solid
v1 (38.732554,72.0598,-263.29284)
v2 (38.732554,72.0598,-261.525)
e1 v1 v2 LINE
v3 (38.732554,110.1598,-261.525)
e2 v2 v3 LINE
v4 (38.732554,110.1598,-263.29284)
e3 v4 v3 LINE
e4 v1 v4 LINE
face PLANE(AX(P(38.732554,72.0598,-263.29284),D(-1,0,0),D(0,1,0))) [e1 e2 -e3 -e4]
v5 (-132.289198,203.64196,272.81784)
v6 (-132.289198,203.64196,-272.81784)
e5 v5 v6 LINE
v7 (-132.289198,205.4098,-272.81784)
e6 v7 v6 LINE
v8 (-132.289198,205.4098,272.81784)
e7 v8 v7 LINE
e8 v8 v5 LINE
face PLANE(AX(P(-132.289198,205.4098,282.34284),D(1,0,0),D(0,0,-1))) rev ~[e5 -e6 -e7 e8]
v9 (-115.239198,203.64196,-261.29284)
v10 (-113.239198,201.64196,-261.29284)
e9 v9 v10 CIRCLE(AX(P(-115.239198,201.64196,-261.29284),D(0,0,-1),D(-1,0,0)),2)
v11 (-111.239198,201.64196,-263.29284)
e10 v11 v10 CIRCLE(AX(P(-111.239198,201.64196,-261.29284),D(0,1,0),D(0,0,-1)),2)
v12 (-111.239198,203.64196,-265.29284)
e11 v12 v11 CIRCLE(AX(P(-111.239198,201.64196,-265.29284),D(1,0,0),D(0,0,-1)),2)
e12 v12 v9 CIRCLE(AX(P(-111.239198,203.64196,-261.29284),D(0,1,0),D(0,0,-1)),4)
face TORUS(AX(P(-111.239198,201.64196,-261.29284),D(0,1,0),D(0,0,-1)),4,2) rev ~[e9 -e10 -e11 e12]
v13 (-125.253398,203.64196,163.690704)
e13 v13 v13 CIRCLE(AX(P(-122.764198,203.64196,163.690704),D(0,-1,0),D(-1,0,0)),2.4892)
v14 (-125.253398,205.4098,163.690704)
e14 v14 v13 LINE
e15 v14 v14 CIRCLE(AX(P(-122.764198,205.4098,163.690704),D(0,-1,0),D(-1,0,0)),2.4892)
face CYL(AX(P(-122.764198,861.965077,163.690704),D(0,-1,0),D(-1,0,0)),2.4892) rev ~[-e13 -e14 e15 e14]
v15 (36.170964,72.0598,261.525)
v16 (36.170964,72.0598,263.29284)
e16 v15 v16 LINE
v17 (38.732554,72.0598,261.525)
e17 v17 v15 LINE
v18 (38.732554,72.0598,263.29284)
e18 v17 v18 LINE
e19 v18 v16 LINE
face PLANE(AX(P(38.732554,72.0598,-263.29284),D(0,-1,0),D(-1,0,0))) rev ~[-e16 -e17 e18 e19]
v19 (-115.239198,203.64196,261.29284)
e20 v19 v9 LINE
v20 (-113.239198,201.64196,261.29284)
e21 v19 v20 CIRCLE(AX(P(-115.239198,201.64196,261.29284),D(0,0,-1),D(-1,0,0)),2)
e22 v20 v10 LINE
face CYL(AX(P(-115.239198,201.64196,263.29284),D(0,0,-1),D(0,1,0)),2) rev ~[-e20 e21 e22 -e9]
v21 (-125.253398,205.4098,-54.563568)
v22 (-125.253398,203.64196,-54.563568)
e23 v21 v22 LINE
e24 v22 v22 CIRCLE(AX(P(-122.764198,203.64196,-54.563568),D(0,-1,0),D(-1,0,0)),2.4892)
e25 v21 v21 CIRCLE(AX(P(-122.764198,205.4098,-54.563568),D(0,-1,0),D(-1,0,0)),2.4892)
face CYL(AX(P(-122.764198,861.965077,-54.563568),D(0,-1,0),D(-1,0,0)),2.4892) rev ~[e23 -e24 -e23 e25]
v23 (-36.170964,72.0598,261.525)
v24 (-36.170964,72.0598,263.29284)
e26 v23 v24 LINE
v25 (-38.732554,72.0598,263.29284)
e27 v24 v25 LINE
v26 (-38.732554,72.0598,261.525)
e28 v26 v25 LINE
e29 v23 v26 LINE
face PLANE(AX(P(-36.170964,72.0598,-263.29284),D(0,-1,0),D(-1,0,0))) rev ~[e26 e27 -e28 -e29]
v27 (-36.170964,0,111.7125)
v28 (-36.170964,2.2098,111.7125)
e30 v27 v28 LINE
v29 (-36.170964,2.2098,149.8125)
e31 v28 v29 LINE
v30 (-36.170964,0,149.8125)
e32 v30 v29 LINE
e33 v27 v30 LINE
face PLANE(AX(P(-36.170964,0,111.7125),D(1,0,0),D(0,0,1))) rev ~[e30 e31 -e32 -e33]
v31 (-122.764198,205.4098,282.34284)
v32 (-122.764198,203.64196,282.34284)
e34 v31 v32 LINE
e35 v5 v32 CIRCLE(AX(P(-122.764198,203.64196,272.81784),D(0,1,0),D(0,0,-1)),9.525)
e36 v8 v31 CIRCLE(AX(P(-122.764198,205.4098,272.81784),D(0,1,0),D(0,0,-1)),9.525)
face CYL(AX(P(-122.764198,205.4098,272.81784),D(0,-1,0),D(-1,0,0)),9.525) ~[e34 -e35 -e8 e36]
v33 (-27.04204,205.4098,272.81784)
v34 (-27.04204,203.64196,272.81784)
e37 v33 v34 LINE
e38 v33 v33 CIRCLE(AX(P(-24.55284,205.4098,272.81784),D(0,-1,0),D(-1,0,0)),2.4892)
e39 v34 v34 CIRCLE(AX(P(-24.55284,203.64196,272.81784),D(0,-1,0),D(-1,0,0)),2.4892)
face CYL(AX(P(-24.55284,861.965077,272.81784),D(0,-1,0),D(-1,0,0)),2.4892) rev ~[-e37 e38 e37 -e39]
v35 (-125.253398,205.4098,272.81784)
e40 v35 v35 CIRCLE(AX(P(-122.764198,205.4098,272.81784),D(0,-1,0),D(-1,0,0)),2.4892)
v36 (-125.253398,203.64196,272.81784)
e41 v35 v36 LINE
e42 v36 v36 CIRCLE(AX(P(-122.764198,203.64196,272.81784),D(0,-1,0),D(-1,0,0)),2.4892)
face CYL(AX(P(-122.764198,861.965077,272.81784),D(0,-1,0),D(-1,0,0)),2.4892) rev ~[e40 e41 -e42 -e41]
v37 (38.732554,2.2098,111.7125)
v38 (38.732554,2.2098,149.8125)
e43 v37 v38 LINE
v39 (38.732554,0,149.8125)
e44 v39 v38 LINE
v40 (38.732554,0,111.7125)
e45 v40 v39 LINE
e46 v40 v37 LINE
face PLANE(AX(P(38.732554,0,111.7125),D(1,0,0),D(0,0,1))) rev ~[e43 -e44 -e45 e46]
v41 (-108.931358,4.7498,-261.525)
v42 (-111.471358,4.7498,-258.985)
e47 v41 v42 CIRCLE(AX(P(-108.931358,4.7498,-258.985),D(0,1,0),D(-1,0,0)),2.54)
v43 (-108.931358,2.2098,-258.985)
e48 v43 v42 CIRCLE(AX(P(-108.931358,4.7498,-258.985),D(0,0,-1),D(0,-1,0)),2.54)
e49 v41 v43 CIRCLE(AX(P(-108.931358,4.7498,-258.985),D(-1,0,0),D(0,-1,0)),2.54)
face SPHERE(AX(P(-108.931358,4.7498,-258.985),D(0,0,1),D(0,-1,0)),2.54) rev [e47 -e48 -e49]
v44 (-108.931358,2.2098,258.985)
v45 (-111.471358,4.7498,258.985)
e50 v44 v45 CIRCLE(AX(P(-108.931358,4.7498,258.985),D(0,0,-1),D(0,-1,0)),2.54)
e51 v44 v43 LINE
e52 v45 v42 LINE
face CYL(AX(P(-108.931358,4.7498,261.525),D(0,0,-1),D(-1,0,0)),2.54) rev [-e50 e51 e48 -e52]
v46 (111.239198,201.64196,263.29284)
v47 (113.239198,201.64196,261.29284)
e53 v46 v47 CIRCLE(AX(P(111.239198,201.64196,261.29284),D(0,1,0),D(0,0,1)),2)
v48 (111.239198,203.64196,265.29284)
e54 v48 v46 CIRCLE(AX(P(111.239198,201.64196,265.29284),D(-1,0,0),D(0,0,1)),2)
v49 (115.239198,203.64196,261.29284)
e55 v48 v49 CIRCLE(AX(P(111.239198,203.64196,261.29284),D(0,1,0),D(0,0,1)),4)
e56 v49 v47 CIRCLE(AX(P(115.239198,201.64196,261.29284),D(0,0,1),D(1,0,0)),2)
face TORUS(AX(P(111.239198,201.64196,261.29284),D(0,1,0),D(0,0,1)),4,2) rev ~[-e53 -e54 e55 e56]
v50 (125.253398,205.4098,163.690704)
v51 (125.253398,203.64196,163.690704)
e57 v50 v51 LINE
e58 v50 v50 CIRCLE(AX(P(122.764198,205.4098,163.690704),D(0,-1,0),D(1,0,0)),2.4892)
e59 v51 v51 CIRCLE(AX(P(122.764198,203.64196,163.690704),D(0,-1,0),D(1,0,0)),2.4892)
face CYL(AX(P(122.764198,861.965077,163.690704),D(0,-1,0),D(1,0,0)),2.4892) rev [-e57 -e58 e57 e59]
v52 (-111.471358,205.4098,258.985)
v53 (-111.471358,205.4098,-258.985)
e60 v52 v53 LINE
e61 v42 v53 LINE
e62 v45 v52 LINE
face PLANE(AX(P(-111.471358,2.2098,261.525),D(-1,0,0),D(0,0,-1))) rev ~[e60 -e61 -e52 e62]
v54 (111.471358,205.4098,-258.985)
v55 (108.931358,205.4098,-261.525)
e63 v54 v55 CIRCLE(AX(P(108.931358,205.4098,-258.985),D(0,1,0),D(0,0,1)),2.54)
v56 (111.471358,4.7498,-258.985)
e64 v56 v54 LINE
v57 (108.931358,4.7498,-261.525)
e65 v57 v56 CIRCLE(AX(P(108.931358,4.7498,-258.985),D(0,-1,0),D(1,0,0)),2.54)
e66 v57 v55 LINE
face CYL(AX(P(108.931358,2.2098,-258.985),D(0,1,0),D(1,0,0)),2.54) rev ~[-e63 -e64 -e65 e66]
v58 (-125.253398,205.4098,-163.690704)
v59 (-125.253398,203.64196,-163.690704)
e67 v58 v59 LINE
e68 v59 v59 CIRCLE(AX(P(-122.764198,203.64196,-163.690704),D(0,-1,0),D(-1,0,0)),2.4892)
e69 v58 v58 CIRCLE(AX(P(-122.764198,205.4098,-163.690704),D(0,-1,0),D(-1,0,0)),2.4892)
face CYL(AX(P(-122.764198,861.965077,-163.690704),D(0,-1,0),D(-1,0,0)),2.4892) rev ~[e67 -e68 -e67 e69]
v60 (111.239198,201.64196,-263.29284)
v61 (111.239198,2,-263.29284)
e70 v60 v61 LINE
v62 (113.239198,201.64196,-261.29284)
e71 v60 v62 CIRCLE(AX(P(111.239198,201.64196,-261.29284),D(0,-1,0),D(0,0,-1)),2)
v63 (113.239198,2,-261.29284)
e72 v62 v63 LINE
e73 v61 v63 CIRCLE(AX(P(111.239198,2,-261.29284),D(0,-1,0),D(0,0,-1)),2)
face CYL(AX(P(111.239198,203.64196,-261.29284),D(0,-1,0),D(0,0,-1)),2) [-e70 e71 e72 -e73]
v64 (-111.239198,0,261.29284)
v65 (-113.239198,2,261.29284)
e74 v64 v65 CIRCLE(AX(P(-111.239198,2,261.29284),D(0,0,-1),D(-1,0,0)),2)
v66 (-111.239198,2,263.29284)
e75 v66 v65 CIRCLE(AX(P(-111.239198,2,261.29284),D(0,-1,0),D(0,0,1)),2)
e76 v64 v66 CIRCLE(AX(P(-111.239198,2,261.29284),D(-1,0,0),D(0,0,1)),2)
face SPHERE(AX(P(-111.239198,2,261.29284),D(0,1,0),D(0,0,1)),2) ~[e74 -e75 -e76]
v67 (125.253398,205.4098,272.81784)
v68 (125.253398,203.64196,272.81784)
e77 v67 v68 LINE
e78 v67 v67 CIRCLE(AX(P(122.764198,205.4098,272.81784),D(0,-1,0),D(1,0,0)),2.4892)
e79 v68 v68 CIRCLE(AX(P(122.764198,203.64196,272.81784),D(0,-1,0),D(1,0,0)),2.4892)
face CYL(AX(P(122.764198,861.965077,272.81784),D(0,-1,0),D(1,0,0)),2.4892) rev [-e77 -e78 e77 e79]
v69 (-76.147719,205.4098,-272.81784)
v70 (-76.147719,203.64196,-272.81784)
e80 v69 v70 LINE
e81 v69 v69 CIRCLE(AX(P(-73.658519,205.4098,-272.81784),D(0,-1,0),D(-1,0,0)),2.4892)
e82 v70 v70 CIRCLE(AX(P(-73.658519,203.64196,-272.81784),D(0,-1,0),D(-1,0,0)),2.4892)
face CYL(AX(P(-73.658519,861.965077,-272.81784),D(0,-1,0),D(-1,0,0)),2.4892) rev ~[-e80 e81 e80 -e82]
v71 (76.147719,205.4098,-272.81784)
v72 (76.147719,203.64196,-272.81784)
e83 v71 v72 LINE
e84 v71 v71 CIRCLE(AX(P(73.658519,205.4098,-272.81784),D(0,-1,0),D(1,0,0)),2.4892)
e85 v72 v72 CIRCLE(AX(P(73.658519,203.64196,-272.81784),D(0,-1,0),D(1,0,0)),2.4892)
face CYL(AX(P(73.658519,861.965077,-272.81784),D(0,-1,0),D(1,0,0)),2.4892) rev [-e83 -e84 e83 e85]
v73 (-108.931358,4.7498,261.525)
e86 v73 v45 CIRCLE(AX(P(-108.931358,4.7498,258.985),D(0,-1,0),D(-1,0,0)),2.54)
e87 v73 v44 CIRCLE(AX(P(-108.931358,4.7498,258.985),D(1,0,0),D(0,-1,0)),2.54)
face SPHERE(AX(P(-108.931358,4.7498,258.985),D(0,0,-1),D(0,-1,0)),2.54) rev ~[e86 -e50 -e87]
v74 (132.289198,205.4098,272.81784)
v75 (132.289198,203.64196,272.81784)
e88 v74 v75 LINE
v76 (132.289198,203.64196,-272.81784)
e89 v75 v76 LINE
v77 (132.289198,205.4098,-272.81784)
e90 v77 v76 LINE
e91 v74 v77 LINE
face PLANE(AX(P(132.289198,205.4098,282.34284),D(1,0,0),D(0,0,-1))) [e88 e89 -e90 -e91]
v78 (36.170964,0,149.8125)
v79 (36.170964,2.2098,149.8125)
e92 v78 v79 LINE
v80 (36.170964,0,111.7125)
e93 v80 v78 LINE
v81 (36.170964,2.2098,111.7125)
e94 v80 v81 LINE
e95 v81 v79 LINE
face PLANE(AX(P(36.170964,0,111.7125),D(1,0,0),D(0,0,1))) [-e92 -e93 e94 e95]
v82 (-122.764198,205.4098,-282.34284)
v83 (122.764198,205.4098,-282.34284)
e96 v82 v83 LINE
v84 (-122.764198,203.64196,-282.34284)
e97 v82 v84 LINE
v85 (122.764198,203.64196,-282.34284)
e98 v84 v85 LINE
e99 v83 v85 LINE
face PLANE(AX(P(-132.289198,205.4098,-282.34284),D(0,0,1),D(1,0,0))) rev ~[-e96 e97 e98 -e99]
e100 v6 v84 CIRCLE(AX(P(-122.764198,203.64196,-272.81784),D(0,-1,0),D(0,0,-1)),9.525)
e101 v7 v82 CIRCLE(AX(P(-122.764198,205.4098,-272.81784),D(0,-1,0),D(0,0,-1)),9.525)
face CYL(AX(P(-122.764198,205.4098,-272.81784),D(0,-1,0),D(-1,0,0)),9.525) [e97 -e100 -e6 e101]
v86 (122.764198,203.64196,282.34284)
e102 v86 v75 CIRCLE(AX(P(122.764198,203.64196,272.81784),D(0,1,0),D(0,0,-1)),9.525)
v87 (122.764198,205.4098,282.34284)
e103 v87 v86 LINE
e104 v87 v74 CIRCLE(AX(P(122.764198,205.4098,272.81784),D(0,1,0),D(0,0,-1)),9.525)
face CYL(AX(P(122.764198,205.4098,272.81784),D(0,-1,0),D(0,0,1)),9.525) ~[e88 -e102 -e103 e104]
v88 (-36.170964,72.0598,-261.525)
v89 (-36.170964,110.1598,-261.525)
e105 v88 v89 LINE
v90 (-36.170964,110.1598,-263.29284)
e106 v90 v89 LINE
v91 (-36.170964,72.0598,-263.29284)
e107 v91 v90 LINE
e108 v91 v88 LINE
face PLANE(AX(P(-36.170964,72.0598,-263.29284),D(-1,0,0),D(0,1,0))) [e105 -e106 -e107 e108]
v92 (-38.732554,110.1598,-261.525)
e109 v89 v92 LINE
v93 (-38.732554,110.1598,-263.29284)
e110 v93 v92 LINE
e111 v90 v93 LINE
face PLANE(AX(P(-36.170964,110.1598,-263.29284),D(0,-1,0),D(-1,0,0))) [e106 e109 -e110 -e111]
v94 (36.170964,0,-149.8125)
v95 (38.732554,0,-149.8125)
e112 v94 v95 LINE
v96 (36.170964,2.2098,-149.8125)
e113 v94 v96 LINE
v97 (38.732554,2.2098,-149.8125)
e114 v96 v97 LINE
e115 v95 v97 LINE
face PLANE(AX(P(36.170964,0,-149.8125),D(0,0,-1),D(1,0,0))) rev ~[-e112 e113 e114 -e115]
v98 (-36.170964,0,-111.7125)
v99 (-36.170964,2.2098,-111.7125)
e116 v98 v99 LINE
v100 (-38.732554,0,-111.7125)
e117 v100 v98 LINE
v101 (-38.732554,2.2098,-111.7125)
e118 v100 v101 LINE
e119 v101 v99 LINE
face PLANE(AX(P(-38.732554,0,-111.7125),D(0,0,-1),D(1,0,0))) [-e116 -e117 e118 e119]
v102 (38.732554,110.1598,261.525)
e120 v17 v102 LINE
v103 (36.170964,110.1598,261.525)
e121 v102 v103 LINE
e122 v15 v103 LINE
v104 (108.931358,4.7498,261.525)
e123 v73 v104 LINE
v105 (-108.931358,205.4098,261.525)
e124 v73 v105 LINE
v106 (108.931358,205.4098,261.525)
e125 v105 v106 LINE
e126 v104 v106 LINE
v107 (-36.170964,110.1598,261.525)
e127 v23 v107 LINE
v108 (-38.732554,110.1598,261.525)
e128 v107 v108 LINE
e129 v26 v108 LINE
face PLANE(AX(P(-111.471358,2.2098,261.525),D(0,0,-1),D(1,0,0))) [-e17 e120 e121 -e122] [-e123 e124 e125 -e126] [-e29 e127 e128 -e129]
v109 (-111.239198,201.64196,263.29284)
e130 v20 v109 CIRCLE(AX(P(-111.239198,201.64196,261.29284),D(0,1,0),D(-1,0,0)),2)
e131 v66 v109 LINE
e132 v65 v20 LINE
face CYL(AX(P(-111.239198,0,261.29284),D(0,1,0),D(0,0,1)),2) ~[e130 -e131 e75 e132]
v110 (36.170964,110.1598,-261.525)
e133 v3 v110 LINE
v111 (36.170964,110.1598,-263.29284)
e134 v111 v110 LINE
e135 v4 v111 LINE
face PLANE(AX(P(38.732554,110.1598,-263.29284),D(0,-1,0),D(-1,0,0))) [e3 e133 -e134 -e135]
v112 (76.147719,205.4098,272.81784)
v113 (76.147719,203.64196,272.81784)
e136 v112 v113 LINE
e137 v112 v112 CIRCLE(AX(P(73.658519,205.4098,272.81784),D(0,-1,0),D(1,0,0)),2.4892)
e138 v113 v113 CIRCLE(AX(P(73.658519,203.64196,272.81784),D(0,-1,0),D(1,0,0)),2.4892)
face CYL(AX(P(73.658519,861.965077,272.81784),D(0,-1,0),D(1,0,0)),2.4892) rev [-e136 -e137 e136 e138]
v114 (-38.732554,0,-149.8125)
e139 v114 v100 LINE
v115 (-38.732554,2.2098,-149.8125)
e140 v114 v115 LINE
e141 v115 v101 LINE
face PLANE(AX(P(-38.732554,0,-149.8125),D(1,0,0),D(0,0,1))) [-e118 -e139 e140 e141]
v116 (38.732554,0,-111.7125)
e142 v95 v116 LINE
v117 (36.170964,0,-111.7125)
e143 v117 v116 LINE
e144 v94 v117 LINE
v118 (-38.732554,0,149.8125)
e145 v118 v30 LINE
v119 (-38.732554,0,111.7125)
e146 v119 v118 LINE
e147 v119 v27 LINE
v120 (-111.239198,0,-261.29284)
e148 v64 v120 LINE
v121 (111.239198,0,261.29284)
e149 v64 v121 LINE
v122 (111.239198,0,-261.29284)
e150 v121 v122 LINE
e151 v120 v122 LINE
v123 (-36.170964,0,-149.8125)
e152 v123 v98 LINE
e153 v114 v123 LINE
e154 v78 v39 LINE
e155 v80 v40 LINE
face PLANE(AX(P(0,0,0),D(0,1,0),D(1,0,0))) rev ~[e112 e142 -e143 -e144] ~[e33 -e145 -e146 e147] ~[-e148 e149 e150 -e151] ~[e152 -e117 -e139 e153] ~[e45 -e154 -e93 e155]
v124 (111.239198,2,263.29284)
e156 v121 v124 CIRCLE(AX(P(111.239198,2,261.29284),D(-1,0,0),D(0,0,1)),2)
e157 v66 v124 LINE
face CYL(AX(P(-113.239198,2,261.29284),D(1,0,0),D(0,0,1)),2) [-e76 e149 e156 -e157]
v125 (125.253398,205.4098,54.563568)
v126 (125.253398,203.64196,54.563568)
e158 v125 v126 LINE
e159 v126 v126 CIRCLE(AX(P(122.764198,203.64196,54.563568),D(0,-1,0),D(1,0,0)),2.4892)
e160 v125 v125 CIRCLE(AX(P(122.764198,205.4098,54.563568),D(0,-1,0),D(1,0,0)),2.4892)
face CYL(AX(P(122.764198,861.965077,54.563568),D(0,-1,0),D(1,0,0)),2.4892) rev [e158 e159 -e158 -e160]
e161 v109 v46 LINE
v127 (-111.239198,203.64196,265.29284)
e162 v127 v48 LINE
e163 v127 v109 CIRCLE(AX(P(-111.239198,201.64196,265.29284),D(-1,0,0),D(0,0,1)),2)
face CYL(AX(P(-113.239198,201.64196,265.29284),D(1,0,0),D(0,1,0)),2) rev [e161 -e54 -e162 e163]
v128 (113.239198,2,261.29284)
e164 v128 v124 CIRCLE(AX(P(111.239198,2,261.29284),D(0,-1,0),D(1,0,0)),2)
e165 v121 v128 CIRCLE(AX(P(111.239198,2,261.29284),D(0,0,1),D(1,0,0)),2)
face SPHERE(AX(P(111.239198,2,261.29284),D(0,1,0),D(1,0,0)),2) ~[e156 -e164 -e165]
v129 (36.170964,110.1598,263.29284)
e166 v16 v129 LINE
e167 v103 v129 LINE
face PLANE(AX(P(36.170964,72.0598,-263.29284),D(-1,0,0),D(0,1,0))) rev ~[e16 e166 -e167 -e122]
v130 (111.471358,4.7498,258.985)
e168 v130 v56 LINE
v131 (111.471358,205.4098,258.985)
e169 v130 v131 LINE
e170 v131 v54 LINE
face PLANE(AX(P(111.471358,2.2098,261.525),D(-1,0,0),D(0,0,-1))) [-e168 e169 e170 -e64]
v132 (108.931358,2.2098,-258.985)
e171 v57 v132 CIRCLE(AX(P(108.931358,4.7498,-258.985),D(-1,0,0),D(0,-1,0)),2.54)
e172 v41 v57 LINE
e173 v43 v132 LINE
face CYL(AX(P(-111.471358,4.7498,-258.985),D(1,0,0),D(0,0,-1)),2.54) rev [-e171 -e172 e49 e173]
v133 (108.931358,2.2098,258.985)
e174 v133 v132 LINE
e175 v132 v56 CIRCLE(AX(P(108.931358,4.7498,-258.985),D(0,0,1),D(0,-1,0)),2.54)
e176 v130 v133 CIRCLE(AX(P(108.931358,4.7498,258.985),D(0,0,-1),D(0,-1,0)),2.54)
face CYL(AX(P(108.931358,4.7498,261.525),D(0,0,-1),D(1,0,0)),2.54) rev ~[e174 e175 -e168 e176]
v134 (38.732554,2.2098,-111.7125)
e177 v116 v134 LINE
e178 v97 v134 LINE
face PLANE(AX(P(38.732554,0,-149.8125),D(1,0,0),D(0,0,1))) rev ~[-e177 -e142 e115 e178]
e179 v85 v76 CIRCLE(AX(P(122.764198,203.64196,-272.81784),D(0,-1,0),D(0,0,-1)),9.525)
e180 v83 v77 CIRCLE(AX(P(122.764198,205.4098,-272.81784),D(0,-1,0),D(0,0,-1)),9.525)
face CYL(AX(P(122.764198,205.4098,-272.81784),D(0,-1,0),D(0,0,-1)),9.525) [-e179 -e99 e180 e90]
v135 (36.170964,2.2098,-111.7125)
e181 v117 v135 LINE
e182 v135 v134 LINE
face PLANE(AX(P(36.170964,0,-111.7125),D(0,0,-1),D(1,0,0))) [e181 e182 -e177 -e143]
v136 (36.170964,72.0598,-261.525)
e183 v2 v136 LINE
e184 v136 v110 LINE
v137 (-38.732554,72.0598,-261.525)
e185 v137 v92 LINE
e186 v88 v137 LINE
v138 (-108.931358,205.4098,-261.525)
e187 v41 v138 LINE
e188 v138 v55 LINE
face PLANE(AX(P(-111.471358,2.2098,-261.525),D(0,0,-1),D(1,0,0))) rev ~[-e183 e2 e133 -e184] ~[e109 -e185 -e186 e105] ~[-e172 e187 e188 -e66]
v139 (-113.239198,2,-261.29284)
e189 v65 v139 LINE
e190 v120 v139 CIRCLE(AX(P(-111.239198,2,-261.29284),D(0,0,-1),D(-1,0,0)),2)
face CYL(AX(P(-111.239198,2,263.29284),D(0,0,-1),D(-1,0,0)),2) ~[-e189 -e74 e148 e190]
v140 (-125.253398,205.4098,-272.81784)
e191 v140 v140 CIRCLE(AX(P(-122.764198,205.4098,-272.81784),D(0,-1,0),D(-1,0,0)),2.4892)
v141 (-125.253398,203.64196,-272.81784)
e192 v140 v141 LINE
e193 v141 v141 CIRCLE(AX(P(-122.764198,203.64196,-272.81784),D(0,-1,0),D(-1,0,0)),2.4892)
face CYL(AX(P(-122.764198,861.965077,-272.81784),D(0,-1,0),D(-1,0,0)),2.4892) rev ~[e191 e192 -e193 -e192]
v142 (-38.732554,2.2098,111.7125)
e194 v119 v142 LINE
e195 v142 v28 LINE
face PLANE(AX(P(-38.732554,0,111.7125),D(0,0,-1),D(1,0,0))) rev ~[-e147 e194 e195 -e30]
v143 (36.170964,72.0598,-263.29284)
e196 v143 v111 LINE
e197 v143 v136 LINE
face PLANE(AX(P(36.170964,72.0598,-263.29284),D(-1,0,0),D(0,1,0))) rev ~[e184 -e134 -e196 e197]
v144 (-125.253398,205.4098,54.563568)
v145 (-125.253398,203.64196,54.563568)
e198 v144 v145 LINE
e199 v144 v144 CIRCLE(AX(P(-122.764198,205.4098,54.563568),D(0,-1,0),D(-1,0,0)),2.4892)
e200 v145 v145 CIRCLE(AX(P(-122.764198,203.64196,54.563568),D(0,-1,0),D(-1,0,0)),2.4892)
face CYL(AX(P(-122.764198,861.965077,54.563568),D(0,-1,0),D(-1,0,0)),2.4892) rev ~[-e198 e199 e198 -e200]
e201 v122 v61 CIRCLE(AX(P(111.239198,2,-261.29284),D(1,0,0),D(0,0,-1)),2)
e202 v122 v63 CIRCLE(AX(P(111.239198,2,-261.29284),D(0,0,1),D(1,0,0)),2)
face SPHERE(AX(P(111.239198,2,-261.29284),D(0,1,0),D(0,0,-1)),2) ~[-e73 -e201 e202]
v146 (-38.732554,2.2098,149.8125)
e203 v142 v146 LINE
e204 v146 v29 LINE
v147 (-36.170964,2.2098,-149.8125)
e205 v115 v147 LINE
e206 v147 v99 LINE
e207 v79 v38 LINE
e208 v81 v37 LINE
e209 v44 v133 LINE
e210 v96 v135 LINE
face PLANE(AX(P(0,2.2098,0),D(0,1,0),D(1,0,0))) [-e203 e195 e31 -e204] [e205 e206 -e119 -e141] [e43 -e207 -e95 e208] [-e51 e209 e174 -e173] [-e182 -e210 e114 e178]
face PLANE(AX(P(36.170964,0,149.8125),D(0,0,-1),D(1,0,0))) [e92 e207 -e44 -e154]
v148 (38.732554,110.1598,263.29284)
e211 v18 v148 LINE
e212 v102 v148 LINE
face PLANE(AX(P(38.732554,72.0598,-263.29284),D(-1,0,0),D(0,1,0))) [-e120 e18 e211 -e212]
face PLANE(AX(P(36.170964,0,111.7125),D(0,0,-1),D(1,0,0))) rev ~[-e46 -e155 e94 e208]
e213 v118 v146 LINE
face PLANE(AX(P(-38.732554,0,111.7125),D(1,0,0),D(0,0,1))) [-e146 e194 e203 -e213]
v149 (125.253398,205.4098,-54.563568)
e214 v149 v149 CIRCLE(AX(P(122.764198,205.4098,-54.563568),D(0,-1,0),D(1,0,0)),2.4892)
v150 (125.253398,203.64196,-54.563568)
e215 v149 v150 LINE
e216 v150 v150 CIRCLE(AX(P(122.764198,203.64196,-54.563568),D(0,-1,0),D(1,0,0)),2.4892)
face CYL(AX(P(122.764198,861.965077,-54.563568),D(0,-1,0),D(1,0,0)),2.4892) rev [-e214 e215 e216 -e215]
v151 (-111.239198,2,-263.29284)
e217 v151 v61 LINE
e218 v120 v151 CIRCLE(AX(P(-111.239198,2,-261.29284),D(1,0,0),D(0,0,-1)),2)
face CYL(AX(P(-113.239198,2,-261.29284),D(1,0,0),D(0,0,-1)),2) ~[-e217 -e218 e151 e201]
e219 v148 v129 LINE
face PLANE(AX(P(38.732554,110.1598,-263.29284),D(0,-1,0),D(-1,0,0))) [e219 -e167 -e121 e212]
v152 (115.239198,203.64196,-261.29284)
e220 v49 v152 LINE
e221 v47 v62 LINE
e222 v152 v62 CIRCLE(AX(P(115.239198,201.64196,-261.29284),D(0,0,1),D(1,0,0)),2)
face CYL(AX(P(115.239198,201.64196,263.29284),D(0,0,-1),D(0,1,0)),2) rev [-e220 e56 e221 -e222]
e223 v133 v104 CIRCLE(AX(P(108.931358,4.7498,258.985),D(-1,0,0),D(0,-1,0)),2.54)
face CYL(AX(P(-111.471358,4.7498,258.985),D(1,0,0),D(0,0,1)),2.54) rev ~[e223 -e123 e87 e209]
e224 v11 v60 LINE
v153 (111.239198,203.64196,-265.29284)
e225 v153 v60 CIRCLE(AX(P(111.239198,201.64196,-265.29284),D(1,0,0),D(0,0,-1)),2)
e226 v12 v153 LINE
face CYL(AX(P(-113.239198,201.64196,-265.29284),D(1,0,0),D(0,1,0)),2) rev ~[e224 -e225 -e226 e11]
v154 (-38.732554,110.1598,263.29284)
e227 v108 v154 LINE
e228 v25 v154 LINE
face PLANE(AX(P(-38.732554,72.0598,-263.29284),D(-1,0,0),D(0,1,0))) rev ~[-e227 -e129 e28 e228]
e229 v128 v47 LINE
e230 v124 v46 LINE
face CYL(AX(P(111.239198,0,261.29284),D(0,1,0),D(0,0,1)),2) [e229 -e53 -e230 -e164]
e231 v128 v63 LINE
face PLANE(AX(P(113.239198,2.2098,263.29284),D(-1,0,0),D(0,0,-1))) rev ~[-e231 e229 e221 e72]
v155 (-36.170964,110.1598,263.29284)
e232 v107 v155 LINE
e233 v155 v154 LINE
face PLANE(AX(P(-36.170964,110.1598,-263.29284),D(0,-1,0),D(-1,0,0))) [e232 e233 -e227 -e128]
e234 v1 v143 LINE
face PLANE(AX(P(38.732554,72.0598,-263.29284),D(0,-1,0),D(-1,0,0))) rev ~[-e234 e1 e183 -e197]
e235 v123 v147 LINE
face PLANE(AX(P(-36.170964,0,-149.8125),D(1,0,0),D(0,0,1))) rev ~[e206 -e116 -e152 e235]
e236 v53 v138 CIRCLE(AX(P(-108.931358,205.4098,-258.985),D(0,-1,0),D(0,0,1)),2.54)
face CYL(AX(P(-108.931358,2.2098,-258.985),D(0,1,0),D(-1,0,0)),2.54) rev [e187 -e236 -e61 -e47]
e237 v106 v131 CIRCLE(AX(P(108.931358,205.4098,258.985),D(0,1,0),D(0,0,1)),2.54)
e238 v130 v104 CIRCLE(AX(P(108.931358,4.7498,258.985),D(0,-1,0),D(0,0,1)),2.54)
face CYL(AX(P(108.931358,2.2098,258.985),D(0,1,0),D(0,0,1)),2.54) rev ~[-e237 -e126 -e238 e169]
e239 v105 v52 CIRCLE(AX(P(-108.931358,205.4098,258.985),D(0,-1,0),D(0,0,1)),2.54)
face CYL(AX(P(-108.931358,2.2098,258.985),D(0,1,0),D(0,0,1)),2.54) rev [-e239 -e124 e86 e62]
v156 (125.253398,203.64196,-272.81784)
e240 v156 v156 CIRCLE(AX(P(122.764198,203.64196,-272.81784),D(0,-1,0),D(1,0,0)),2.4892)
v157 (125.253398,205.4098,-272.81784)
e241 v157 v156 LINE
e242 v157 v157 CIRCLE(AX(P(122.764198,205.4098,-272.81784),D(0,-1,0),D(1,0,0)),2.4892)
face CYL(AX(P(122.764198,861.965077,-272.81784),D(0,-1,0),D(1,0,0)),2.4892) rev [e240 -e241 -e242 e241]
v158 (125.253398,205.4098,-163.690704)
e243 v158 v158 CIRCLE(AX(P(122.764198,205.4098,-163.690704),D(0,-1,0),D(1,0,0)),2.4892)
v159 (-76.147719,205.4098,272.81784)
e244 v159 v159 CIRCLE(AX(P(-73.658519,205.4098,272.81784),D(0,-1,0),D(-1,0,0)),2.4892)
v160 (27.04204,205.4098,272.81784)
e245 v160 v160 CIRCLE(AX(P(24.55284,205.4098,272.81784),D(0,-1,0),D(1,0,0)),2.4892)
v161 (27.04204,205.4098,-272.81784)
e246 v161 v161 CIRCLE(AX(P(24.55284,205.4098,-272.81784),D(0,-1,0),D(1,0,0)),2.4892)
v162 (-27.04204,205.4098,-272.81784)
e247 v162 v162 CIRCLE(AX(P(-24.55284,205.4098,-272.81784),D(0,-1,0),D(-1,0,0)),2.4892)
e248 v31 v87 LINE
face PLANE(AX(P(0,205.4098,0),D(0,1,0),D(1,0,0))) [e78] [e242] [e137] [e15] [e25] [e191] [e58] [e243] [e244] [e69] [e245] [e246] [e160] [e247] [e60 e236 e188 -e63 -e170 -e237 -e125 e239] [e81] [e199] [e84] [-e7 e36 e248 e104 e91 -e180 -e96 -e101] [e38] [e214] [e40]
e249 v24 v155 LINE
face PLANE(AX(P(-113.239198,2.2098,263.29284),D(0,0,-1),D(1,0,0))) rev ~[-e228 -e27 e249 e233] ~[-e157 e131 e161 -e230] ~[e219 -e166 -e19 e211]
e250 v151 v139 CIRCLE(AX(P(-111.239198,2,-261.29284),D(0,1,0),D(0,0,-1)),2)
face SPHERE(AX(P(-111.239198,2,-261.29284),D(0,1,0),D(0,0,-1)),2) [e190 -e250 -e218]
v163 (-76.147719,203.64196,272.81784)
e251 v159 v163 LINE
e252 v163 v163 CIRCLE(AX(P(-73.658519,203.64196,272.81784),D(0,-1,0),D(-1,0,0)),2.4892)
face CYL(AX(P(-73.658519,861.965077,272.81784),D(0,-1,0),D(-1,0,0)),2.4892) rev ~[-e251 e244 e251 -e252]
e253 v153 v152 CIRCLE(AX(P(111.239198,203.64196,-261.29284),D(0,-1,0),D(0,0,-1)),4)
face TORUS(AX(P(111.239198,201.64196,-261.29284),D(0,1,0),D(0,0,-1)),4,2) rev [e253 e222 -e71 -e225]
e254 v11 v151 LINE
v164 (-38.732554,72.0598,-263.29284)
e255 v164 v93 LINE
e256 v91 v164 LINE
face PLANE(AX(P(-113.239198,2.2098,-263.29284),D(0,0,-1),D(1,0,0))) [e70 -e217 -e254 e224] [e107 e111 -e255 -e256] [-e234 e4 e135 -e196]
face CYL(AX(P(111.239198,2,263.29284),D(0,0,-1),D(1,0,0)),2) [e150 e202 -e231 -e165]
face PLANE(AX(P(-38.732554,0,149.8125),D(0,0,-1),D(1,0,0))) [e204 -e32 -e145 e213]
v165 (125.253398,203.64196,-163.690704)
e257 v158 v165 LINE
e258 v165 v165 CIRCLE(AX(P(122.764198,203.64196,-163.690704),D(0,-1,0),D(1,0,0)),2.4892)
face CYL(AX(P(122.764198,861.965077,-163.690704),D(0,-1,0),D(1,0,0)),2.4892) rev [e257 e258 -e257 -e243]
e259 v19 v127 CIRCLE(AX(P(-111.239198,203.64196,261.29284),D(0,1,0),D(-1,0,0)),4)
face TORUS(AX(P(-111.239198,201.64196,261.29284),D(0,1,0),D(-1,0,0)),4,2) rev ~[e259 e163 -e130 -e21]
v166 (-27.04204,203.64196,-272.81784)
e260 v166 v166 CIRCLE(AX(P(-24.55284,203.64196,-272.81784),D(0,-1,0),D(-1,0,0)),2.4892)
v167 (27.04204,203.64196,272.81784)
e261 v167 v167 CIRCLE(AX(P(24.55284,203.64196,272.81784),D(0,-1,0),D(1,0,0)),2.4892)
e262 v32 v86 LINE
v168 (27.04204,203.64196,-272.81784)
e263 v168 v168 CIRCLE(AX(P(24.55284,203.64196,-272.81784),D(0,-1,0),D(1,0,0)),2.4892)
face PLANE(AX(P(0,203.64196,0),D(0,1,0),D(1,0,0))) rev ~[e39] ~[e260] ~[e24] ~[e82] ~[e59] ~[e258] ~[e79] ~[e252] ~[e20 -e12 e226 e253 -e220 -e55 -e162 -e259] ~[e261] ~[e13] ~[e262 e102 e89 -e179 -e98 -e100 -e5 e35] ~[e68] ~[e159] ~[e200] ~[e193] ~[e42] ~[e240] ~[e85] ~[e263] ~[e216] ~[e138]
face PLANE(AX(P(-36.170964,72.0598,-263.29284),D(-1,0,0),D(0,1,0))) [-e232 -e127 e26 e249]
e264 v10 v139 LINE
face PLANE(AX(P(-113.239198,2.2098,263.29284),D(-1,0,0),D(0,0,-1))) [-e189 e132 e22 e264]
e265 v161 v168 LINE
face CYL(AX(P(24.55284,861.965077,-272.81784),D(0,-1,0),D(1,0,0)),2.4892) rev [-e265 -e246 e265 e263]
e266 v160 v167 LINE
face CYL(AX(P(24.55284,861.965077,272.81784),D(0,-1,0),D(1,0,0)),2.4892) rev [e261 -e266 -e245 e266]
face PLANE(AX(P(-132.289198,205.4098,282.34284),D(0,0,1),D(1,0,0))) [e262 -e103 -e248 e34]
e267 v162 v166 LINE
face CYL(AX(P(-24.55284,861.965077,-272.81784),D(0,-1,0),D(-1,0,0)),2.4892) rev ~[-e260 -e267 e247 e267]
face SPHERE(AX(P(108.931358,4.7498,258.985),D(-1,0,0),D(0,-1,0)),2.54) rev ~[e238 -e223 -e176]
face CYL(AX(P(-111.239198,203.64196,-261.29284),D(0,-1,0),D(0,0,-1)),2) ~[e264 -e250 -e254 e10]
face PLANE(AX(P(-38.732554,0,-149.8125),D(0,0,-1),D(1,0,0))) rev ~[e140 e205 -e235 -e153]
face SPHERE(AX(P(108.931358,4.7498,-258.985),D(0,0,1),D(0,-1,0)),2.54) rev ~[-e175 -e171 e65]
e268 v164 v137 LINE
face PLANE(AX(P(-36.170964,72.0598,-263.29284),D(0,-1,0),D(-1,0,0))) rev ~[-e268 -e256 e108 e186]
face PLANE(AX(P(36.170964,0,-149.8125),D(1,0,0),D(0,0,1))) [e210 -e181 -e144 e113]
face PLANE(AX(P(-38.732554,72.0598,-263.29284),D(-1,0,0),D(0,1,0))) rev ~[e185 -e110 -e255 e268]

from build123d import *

# Parameters (mm, degrees)
SKETCH1_W              = 226.478396166
SKETCH1_H              = 526.585680888
CONTAINER_BOTTOM_DEPTH = 2.2098
SKETCH2_W              = 226.478396166
SKETCH2_H              = 526.585680888
SKETCH2_W_2            = 222.942716166
SKETCH2_H_2            = 523.050000888
CONTAINER_WALLS_DEPTH  = 203.2
SKETCH64_W             = 264.578396166
SKETCH64_H             = 564.685680888
SKETCH64_W_2           = 226.478396166
SKETCH64_H_2           = 526.585680888
BOSS_EXTRUDE3_DEPTH    = 1.76784
F_10_CLEARANCE_HOLE1_D = 4.9784
FILLET1_R              = 2.54
CUT_EXTRUDE1_REACH     = 375.378
SKETCH42_W             = 2.56159
SKETCH42_H             = 38.1
LPATTERN1_COUNT        = 2
LPATTERN1_PITCH        = 74.903518722
LPATTERN1_COUNT_DIR2   = 2
LPATTERN1_PITCH_DIR2   = 261.525000444
SKETCH43_W             = 2.56159
SKETCH43_H             = 38.1
CUT_EXTRUDE2_DEPTH     = 598.839371507
LPATTERN2_COUNT        = 2
LPATTERN2_PITCH        = 74.903518722
FILLET2_R              = 2
FILLET3_R              = 9.525


with BuildPart() as part:
    # Sketch1 → Container_Bottom (new body)
    with BuildSketch(Plane(origin=(0, 0, 0), x_dir=(1, 0, 0), z_dir=(0, 1, 0))):
        Rectangle(SKETCH1_W, SKETCH1_H)
    extrude(amount=CONTAINER_BOTTOM_DEPTH)

    # Sketch2 → Container_Walls (add)
    with BuildSketch(Plane(origin=(0, 2.2098, 0), x_dir=(1, 0, 0), z_dir=(0, 1, 0))):
        Rectangle(SKETCH2_W, SKETCH2_H)
        Rectangle(SKETCH2_W_2, SKETCH2_H_2, mode=Mode.SUBTRACT)
    extrude(amount=CONTAINER_WALLS_DEPTH)

    # Sketch64 → Boss-Extrude3 (add)
    with BuildSketch(Plane(origin=(0, 205.4098, 0), x_dir=(1, 0, 0), z_dir=(0, 1, 0))):
        Rectangle(SKETCH64_W, SKETCH64_H)
        Rectangle(SKETCH64_W_2, SKETCH64_H_2, mode=Mode.SUBTRACT)
    extrude(amount=-BOSS_EXTRUDE3_DEPTH)

    # #10 Clearance Hole1 (through all)
    with Locations(Plane(origin=(0, 205.4098, 0), x_dir=(1, 0, 0), z_dir=(0, 1, 0))):
        with Locations((-122.764198083, 272.817840444), (-122.764198083, 163.690704266), (-122.764198083, 54.563568089), (-122.764198083, -54.563568089), (-122.764198083, -163.690704266), (-122.764198083, -272.817840444), (-73.65851885, -272.817840444), (-24.552839617, -272.817840444), (-73.65851885, 272.817840444), (-24.552839617, 272.817840444)):
            f_10_clearance_hole1 = Hole(F_10_CLEARANCE_HOLE1_D / 2)

    # Mirror3: #10 Clearance Hole1 across plane
    add(f_10_clearance_hole1.mirror(Plane(origin=(0, 0, 0), x_dir=(0, 0, 1), z_dir=(1, 0, 0))), mode=Mode.SUBTRACT)

    # Fillet1
    fillet1_edges = [part.edges().sort_by_distance(p)[0] for p in [
        (-111.471358083, 2.2098, 0),
        (0, 2.2098, 261.525000444),
        (111.471358083, 2.2098, 0),
        (0, 2.2098, -261.525000444),
        (-111.471358083, 103.8098, 261.525000444),
        (111.471358083, 103.8098, 261.525000444),
        (111.471358083, 103.8098, -261.525000444),
        (-111.471358083, 103.8098, -261.525000444),
    ]]
    fillet(fillet1_edges, radius=FILLET1_R)

    # Sketch42 → Cut-Extrude1 (cut, up to next)
    with BuildSketch(Plane.XZ, mode=Mode.PRIVATE) as cut_extrude1_sk1:
        with Locations((-37.451759361, 130.762500222)):
            Rectangle(SKETCH42_W, SKETCH42_H)
    cut_extrude1_tool1 = extrude(cut_extrude1_sk1.sketch, amount=-CUT_EXTRUDE1_REACH, mode=Mode.PRIVATE) & part.part
    cut_extrude1 = cut_extrude1_tool1.solids().sort_by_distance((-37.451759, 0, 130.7625))[0]
    add(cut_extrude1, mode=Mode.SUBTRACT)

    # LPattern1: Cut-Extrude1 2 × 2
    with Locations(*[(i * LPATTERN1_PITCH, 0, -j * LPATTERN1_PITCH_DIR2) for i in range(LPATTERN1_COUNT) for j in range(LPATTERN1_COUNT_DIR2) if (i, j) != (0, 0)]):
        add(cut_extrude1, mode=Mode.SUBTRACT)

    # Sketch43 → Cut-Extrude2 (cut, through all)
    with BuildSketch(Plane(origin=(0, 0, -263.292840444), x_dir=(-1, 0, 0), z_dir=(0, 0, -1))):
        with Locations((-37.451759361, 91.1098)):
            Rectangle(SKETCH43_W, SKETCH43_H)
    cut_extrude2 = extrude(amount=-CUT_EXTRUDE2_DEPTH, mode=Mode.SUBTRACT)

    # LPattern2: Cut-Extrude2 ×2
    with Locations(*[(-i * LPATTERN2_PITCH, 0, 0) for i in range(1, LPATTERN2_COUNT)]):
        add(cut_extrude2, mode=Mode.SUBTRACT)

    # Fillet2
    fillet2_edges = [part.edges().sort_by_distance(p)[0] for p in [
        (-113.239198083, 101.82098, -263.292840444),
        (113.239198083, 101.82098, -263.292840444),
        (113.239198083, 101.82098, 263.292840444),
        (-113.239198083, 101.82098, 263.292840444),
        (0, 203.64196, -263.292840444),
        (-113.239198083, 203.64196, 0),
        (0, 203.64196, 263.292840444),
        (113.239198083, 203.64196, 0),
        (0, 0, -263.292840444),
        (113.239198083, 0, 0),
        (0, 0, 263.292840444),
        (-113.239198083, 0, 0),
    ]]
    fillet(fillet2_edges, radius=FILLET2_R)

    # Fillet3
    fillet3_edges = [part.edges().sort_by_distance(p)[0] for p in [
        (-132.289198083, 204.52588, 282.342840444),
        (-132.289198083, 204.52588, -282.342840444),
        (132.289198083, 204.52588, -282.342840444),
        (132.289198083, 204.52588, 282.342840444),
    ]]
    fillet(fillet3_edges, radius=FILLET3_R)


solid = part.part
